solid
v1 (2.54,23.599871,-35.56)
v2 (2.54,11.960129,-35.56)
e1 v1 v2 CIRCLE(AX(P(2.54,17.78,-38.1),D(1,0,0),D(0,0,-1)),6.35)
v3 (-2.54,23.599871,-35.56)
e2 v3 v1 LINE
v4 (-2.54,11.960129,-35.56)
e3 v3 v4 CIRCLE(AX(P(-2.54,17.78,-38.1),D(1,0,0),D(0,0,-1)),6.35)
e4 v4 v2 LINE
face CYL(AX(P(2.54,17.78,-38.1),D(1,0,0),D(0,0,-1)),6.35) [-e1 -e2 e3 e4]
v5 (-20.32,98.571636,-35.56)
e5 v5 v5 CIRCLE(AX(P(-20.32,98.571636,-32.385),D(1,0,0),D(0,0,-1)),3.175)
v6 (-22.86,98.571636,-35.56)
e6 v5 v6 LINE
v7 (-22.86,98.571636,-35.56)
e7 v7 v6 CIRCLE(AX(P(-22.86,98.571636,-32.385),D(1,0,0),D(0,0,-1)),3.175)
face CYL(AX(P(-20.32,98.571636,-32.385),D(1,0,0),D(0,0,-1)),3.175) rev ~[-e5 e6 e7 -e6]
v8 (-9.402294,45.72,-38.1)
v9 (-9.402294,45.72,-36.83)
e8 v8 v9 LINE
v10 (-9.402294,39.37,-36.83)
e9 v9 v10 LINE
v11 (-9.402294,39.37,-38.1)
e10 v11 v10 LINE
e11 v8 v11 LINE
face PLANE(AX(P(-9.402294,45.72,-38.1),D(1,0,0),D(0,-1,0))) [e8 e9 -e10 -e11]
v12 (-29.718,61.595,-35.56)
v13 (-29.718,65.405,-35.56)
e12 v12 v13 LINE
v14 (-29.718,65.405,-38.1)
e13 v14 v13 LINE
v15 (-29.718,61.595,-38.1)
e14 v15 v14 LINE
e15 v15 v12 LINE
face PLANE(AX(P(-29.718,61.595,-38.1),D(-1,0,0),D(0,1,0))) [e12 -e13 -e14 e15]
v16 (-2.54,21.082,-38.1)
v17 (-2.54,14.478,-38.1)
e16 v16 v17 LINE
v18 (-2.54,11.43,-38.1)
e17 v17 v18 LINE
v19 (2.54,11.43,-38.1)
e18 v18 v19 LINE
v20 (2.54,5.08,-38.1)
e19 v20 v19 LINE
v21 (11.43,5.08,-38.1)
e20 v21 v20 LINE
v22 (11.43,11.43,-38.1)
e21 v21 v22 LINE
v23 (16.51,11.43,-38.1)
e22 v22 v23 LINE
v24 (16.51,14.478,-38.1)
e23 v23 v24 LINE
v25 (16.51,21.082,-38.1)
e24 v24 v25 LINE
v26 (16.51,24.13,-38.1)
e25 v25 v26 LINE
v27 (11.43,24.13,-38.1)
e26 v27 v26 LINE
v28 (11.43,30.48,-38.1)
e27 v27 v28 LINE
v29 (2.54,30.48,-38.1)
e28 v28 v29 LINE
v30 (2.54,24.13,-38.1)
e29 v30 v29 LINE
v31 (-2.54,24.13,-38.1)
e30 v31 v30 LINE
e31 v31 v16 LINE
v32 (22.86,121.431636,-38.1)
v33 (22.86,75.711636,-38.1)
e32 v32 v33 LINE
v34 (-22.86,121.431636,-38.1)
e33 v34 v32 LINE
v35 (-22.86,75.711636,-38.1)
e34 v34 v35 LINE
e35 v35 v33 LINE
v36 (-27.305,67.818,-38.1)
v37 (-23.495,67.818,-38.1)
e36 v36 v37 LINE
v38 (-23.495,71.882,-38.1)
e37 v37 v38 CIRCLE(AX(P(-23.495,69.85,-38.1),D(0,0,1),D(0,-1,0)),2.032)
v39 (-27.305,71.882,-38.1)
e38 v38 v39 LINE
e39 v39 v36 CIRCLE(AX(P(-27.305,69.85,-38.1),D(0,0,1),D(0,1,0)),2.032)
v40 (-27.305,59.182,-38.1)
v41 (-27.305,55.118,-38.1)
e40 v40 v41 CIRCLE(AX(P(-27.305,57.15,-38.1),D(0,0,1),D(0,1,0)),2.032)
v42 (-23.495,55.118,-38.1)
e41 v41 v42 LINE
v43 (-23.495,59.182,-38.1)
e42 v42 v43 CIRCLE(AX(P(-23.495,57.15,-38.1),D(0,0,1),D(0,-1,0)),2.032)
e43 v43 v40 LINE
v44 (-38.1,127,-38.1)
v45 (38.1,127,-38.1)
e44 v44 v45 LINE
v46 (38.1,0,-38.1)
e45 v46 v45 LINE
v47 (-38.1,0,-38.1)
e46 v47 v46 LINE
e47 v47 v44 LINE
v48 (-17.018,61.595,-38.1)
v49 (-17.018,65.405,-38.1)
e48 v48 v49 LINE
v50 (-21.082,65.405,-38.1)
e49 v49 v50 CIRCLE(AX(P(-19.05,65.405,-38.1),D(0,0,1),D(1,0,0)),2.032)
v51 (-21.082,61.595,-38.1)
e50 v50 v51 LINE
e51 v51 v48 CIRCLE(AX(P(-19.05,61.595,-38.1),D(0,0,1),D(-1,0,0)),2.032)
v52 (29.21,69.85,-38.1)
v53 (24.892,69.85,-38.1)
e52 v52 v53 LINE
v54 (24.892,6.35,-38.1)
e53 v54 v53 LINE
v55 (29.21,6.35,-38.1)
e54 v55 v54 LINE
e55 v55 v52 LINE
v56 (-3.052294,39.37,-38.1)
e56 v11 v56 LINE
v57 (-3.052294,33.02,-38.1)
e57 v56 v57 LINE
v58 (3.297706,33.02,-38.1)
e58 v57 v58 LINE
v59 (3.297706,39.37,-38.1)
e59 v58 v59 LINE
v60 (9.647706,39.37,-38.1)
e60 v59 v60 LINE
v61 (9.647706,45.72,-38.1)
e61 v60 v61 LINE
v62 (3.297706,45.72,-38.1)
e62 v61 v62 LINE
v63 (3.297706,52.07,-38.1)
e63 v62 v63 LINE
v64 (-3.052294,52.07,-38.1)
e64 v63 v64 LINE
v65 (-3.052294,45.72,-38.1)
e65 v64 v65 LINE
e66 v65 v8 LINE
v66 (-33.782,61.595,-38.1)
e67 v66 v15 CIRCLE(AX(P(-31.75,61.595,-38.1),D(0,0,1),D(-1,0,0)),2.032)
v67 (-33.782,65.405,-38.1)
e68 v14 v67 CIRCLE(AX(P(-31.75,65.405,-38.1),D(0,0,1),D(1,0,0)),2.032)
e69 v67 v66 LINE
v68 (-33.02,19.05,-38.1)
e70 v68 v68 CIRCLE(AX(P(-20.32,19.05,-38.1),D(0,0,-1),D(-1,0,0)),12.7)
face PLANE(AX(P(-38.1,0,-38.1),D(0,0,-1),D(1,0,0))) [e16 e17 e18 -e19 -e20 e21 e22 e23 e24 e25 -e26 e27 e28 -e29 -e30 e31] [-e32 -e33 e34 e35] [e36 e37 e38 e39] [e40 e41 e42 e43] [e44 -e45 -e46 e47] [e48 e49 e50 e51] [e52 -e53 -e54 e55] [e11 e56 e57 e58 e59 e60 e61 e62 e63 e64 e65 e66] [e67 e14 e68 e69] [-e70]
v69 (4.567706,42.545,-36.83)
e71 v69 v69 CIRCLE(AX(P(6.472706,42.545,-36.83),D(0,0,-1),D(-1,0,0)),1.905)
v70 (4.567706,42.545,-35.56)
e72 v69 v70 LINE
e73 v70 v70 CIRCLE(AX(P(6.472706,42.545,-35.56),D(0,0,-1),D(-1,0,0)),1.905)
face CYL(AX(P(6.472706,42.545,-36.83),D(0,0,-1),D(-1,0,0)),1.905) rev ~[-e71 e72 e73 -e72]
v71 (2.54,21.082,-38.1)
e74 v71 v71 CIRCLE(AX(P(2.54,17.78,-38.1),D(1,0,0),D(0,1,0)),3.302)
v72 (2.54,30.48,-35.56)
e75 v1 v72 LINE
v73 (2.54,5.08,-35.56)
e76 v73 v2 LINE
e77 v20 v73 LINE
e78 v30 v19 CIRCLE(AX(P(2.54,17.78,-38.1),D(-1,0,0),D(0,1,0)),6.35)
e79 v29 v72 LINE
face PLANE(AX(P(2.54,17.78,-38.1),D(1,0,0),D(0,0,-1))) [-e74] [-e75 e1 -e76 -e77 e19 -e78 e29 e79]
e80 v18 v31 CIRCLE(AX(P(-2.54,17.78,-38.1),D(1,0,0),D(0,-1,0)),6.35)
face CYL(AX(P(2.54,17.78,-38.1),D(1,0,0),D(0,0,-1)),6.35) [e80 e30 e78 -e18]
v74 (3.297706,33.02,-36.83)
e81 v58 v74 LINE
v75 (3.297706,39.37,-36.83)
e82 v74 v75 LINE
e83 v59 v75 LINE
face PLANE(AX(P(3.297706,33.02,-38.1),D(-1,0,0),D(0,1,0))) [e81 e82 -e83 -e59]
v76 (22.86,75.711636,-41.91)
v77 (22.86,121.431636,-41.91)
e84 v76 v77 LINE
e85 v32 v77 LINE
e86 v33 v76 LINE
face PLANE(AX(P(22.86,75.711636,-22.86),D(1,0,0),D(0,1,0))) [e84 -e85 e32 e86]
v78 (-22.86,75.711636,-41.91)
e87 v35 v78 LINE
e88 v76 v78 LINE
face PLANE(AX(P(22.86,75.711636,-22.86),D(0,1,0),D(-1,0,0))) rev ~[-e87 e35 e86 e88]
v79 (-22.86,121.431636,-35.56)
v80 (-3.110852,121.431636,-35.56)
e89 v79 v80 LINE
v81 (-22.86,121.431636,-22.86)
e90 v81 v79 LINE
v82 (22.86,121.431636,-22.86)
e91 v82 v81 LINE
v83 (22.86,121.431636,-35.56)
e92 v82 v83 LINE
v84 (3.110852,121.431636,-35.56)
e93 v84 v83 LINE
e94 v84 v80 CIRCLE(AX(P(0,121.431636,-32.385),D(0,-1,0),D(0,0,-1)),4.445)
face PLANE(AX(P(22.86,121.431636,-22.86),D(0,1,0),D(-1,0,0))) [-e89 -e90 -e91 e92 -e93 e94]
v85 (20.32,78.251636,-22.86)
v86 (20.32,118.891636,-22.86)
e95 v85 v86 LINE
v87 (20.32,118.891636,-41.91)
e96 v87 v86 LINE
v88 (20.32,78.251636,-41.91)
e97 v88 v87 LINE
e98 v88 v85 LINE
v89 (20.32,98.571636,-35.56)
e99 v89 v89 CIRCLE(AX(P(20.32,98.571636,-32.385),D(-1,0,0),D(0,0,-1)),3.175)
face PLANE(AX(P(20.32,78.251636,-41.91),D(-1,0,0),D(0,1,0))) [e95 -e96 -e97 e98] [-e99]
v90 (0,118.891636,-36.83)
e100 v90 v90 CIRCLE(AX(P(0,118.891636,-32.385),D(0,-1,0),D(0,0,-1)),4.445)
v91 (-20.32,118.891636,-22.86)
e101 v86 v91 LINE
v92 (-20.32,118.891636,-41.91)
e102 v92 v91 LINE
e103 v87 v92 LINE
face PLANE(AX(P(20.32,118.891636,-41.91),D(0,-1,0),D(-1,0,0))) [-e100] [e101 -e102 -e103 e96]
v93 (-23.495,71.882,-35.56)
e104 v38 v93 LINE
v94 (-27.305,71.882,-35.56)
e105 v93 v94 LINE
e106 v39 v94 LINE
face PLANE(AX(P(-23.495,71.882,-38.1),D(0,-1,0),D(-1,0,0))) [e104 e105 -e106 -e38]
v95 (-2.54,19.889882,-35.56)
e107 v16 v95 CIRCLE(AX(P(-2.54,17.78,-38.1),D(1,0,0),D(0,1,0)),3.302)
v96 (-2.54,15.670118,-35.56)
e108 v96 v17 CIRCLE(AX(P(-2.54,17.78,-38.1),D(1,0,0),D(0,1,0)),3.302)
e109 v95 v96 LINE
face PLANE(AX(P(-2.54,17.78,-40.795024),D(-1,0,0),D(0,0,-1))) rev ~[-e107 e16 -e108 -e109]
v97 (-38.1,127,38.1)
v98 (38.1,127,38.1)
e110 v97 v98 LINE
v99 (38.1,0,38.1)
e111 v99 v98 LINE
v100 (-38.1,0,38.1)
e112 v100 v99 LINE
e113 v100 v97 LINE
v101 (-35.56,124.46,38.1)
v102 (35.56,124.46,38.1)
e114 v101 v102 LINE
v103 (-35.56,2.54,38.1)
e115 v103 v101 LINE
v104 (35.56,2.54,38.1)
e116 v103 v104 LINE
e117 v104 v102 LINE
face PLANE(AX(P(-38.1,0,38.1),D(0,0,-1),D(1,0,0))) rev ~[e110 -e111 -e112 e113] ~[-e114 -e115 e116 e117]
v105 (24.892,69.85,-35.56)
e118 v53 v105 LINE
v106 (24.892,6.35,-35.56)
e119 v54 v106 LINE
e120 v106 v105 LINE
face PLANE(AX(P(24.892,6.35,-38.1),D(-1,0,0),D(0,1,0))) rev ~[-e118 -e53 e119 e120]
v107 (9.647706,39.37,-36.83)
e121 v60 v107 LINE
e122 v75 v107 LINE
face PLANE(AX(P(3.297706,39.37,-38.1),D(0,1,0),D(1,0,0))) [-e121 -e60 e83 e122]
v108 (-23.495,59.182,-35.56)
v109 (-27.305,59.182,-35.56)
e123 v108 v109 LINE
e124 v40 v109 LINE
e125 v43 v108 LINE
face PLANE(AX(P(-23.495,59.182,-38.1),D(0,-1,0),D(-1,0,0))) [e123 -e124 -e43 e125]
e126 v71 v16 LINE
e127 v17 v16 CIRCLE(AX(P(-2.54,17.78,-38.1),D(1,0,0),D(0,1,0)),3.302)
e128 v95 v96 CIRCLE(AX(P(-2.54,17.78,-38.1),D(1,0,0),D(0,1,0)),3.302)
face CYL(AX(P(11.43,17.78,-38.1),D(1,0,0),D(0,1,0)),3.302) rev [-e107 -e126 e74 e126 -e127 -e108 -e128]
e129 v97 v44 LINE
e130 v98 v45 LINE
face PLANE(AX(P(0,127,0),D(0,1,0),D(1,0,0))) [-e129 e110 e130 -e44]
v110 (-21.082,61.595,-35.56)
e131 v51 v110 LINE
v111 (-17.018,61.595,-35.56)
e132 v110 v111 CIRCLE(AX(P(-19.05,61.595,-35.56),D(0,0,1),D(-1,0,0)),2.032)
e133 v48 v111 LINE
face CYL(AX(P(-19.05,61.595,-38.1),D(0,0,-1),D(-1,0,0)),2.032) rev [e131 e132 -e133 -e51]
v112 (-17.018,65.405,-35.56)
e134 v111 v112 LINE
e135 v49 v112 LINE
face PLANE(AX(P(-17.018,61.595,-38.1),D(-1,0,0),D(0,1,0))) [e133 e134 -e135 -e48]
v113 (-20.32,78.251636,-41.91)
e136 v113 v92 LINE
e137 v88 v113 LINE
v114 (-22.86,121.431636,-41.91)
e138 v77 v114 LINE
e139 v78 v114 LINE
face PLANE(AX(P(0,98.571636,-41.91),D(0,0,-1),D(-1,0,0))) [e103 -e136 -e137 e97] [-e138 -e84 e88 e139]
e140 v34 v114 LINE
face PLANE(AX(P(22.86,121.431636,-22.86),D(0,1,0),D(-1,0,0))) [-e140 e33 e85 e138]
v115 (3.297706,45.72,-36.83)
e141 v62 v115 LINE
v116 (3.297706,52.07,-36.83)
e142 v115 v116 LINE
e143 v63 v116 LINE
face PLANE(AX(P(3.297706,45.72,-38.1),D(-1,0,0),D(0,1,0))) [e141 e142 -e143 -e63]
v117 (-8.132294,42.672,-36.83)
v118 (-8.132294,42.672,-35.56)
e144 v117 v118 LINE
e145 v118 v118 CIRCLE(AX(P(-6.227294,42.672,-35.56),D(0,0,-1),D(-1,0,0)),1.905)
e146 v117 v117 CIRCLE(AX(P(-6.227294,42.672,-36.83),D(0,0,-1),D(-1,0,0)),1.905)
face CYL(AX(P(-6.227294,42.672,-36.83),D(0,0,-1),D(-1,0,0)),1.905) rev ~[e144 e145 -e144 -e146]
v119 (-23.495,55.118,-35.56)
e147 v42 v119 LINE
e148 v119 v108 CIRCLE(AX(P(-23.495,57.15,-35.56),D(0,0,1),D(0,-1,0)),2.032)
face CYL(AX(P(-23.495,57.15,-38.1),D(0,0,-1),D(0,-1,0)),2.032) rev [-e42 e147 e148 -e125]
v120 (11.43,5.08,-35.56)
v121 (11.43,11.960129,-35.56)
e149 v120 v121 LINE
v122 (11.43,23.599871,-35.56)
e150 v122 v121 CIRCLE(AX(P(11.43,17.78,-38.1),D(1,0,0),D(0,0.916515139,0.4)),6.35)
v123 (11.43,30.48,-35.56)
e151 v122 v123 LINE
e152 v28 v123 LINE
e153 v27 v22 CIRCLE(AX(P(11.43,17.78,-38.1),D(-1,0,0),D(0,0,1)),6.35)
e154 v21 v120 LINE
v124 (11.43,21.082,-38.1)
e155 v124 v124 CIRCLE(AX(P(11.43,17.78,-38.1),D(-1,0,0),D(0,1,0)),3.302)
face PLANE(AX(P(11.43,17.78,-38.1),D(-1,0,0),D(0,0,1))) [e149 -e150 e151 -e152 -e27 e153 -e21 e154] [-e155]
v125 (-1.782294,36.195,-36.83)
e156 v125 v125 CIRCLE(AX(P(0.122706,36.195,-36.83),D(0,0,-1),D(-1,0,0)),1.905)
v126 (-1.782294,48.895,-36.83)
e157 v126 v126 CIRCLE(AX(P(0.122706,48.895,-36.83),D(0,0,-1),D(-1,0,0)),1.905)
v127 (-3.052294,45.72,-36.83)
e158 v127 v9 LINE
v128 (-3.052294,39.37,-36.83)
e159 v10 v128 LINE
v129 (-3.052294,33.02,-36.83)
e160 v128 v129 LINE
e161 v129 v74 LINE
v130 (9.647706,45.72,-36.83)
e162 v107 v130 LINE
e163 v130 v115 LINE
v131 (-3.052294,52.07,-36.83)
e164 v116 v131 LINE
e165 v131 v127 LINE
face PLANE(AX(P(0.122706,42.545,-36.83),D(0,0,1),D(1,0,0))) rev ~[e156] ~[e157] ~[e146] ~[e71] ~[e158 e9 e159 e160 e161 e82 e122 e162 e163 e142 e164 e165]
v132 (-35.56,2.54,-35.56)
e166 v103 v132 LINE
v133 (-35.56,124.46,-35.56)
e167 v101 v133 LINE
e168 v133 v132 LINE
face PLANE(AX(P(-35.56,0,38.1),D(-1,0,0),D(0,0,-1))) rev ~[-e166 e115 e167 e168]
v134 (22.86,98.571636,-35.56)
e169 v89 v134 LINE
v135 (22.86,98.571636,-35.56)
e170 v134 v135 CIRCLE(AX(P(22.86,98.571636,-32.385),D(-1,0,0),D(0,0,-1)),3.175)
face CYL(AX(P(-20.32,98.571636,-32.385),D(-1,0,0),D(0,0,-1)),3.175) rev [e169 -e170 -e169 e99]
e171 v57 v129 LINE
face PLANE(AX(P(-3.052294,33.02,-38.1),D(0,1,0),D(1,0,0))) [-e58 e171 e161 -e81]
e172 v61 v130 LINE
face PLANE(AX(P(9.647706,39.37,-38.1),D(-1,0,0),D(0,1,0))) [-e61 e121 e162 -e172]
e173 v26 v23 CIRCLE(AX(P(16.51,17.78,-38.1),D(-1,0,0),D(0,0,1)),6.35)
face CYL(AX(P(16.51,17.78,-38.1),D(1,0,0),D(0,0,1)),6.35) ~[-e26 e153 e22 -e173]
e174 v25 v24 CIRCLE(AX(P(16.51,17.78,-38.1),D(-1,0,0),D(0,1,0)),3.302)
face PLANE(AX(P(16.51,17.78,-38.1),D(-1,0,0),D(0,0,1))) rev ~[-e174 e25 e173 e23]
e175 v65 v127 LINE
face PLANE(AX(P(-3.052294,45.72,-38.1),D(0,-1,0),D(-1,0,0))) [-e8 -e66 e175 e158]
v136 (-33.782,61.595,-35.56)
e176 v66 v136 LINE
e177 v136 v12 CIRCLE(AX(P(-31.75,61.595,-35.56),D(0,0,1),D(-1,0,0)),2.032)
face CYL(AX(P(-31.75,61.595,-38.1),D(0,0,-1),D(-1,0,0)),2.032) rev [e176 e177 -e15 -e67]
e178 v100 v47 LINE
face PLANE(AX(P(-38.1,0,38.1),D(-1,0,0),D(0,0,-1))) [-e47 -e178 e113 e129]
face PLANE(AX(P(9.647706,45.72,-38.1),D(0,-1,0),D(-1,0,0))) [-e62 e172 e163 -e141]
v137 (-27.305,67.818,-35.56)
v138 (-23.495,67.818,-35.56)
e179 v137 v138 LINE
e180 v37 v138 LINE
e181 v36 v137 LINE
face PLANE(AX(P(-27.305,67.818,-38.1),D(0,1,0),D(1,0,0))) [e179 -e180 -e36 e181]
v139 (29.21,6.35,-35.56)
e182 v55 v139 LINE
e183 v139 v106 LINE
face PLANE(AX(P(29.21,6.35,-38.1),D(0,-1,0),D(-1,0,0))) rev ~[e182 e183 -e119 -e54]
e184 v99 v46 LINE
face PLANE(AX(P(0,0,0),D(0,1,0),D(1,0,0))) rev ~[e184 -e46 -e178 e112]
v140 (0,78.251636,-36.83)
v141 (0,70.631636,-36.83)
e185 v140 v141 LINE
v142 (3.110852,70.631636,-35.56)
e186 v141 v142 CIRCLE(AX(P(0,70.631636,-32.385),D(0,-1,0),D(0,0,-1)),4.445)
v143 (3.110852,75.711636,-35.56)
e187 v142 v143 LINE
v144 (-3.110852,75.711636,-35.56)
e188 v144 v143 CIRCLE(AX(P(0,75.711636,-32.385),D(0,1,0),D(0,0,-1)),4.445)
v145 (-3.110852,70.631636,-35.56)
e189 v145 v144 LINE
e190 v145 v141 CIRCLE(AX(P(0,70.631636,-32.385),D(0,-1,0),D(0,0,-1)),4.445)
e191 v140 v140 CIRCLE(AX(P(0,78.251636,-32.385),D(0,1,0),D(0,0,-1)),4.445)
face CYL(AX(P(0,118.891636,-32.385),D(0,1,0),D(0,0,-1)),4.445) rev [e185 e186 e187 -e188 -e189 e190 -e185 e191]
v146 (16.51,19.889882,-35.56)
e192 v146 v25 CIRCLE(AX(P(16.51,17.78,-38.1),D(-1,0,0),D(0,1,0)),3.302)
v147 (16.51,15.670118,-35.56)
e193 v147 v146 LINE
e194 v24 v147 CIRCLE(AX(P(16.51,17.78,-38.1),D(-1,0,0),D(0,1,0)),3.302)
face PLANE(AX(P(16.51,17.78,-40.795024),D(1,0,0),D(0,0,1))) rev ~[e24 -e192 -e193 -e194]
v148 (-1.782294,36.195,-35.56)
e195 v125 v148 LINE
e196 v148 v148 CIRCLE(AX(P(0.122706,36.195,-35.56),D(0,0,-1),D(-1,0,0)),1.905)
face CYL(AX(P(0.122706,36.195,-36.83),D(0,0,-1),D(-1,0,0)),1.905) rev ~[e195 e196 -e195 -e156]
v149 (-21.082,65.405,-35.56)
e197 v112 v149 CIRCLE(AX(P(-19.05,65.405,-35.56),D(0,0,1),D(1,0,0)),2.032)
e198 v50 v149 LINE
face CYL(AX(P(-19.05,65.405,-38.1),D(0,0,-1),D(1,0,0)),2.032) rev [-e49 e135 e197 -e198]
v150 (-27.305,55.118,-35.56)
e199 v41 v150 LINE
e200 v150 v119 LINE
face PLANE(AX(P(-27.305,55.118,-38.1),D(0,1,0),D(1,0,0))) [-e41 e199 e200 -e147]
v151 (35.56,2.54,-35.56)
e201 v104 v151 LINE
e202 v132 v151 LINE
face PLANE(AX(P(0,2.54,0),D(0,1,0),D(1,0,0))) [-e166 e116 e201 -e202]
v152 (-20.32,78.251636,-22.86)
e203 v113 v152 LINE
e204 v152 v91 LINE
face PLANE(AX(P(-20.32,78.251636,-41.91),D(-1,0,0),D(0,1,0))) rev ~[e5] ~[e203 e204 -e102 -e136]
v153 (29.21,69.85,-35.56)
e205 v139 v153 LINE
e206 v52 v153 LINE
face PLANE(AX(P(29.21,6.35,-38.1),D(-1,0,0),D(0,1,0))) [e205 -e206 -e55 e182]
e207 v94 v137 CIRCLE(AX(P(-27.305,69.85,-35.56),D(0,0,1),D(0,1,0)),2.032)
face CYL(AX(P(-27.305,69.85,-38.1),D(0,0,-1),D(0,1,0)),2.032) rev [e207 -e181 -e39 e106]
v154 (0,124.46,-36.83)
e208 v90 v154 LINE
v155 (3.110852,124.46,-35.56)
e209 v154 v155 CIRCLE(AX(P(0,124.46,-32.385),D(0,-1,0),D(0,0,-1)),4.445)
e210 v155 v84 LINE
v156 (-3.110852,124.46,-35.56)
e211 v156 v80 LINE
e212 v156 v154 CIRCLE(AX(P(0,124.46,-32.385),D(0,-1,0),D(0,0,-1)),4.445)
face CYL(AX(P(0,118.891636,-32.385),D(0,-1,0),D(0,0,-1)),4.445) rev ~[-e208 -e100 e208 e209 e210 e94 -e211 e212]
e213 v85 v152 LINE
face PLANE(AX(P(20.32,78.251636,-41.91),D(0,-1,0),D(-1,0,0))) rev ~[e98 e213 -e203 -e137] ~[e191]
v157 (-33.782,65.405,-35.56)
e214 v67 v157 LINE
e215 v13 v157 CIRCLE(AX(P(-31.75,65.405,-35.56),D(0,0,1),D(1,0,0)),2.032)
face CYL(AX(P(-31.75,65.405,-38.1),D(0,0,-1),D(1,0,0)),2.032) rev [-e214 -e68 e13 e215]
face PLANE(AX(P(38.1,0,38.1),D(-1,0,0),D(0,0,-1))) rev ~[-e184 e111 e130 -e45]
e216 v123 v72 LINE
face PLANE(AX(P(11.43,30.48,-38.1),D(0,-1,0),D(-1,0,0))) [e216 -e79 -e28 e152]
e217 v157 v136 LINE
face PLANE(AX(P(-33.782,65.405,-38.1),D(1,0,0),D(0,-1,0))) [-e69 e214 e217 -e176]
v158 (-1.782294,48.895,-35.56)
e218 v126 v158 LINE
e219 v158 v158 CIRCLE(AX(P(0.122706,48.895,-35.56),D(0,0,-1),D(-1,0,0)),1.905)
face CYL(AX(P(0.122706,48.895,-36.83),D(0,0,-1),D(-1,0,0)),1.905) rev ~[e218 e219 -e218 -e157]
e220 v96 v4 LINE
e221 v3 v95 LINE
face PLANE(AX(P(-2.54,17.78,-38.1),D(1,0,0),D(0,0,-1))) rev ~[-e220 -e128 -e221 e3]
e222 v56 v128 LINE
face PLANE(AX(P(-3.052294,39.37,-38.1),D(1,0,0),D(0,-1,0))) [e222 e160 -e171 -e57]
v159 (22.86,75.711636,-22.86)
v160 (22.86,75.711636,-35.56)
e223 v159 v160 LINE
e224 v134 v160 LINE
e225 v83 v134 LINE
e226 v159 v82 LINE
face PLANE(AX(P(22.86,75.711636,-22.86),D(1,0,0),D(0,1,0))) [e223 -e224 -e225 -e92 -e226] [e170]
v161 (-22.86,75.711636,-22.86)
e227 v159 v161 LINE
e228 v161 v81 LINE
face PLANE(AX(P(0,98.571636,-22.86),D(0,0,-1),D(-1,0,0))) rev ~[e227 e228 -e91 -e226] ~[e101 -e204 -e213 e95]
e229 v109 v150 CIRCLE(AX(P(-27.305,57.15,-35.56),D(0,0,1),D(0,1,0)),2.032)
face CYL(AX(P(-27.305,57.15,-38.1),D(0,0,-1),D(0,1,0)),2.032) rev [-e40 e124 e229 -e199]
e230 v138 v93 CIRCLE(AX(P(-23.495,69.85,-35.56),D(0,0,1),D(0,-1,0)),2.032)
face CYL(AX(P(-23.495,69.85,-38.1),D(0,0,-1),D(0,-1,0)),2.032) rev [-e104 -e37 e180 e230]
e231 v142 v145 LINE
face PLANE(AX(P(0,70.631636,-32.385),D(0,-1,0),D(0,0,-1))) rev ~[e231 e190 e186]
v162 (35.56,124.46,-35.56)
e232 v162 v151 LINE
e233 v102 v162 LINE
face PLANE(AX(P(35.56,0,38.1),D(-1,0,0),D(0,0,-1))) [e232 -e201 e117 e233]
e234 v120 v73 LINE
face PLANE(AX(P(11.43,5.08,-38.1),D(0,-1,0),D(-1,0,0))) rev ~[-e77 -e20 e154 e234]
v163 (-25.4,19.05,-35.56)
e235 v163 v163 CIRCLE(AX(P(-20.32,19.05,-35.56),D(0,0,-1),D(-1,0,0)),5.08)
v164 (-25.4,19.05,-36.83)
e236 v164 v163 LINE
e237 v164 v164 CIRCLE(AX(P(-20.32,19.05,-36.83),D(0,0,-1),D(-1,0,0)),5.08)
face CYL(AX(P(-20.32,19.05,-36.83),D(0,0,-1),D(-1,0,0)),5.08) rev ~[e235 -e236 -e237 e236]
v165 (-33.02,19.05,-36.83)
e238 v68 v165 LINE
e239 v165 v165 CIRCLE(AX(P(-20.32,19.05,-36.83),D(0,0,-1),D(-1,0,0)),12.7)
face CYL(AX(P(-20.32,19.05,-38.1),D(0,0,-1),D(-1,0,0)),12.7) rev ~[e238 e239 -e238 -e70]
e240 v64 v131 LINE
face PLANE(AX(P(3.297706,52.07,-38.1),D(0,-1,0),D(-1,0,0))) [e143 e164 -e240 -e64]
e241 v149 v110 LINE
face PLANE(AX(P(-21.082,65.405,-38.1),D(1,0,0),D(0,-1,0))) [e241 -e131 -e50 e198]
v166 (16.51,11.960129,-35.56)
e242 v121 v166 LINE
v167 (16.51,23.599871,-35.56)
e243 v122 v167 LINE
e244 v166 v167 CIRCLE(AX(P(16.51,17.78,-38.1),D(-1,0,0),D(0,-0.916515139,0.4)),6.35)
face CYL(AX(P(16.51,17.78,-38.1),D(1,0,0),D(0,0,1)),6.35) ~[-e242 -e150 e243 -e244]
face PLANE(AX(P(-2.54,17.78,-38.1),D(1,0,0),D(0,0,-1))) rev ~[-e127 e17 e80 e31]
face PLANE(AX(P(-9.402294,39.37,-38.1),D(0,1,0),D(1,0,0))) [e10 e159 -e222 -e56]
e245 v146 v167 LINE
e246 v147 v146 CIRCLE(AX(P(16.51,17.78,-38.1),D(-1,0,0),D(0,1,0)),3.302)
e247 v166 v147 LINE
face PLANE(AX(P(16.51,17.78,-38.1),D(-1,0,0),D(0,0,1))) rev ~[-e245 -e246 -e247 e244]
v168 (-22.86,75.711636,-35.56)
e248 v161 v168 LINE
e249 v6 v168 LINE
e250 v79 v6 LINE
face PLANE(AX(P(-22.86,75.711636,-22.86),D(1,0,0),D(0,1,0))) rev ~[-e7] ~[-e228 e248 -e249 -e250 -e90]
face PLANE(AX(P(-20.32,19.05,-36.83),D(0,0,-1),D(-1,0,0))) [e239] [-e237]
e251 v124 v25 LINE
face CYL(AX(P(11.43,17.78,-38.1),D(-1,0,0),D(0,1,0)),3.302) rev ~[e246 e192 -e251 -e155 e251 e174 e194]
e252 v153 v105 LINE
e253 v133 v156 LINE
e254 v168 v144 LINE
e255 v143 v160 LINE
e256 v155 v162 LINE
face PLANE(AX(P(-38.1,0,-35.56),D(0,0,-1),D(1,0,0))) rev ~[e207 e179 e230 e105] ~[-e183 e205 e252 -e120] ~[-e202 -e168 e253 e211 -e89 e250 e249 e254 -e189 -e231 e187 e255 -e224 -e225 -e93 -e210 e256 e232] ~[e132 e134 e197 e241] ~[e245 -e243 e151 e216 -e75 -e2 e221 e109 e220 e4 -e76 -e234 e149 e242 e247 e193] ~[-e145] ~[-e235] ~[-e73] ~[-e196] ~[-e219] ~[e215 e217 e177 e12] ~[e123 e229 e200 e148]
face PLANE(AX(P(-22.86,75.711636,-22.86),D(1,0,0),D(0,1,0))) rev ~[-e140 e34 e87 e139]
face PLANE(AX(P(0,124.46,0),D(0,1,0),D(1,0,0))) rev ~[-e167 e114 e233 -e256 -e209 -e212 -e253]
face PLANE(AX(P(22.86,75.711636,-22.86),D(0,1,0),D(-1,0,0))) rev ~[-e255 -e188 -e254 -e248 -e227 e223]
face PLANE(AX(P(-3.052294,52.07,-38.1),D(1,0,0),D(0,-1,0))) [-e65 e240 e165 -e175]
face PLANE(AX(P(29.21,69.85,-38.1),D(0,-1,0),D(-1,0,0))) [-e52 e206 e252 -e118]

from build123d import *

# Parameters (mm, degrees)
SKETCH1_W                       = 76.2
SKETCH1_H                       = 76.2
BOX_DEPTH                       = 127
HOLLOW_IT_T                     = -2.54
SKETCH2_W                       = 4.318
SKETCH2_H                       = 63.5
SLIDER_TRACK_DEPTH              = 2.54
DPAD_LARGE_SHAPE_DEPTH          = 1.27
SKETCH7_R                       = 1.905
DPAD_TINY_HOLES_DEPTH           = 1.27
SKETCH8_R                       = 12.7
DIAL_LARGE_RING_DEPTH           = 1.27
SKETCH9_R                       = 5.08
DIAL_SMALL_HOLE_DEPTH           = 1.27
SKETCH12_W                      = 8.89
SKETCH12_H                      = 25.4
HOLE_FOR_SCROLL_WHEEL_DEPTH     = 2.54
SKETCH14_R                      = 6.35
NIBBLE_BASE_1_DEPTH             = 5.08
NIBBLE_START                    = -5.08
SKETCH15_R                      = 6.35
NIBBLE_BASE_2_DEPTH             = 5.08
NIBBLE_HOLES_REACH              = 145.381
SKETCH16_R                      = 3.302
NIBBLE_HOLES_DIRECTION_2_REACH  = 145.381
SINGLE_BUTTON_LEG_HOLE_DEPTH    = 2.54
MOAR_LEG_HOLES_COUNT            = 4
BASE_FOR_JOYSTICK_DEPTH         = 3.81
BASE_FOR_JOYSTICK_DEPTH_BACK    = 15.24
SKETCH19_W                      = 45.72
SKETCH19_H                      = 45.72
SKETCH21_W                      = 40.64
SKETCH21_H                      = 40.64
JOYSTICK_HOLE_DEPTH             = 155.861906549
LARGE_NIBBLES_REACH             = 148.689
SKETCH22_R                      = 3.175
LARGE_NIBBLES_DIRECTION_2_REACH = 148.689
SMALL_NIBBLES_REACH             = 134.524
SKETCH23_R                      = 4.445
SMALL_NIBBLES_DIRECTION_2_DEPTH = 48.26


with BuildPart() as part:
    # Sketch1 → box (new body)
    with BuildSketch(Plane(origin=(0, 0, 0), x_dir=(1, 0, 0), z_dir=(0, 1, 0))):
        Rectangle(SKETCH1_W, SKETCH1_H)
    extrude(amount=BOX_DEPTH)

    # hollow it
    hollow_it_openings = [part.faces().sort_by_distance(p)[0] for p in [
        (0, 63.5, 38.1),
    ]]
    offset(amount=HOLLOW_IT_T, openings=hollow_it_openings, kind=Kind.INTERSECTION)

    # Sketch2 → slider track (cut)
    with BuildSketch(Plane(origin=(0, 0, -38.1), x_dir=(-1, 0, 0), z_dir=(0, 0, -1))):
        with Locations((-27.051, 38.1)):
            Rectangle(SKETCH2_W, SKETCH2_H)
    extrude(amount=-SLIDER_TRACK_DEPTH, mode=Mode.SUBTRACT)

    # Sketch6 → dpad large shape (cut)
    with BuildSketch(Plane(origin=(0, 0, -38.1), x_dir=(-1, 0, 0), z_dir=(0, 0, -1))):
        Polygon((-3.297705804, 45.72), (-3.297705804, 52.07), (3.052294196, 52.07), (3.052294196, 45.72), (9.402294196, 45.72), (9.402294196, 39.37), (3.052294196, 39.37), (3.052294196, 33.02), (-3.297705804, 33.02), (-3.297705804, 39.37), (-9.647705804, 39.37), (-9.647705804, 45.72), align=None)
    extrude(amount=-DPAD_LARGE_SHAPE_DEPTH, mode=Mode.SUBTRACT)

    # Sketch7 → dpad tiny holes (cut)
    with BuildSketch(Plane(origin=(0, 0, -36.83), x_dir=(-1, 0, 0), z_dir=(0, 0, -1))):
        with Locations((-0.122705804, 48.895)):
            Circle(SKETCH7_R)
        with Locations((6.227294196, 42.672)):
            Circle(SKETCH7_R)
        with Locations((-0.122705804, 36.195)):
            Circle(SKETCH7_R)
        with Locations((-6.472705804, 42.545)):
            Circle(SKETCH7_R)
    extrude(amount=-DPAD_TINY_HOLES_DEPTH, mode=Mode.SUBTRACT)

    # Sketch8 → dial large ring (cut)
    with BuildSketch(Plane(origin=(0, 0, -38.1), x_dir=(-1, 0, 0), z_dir=(0, 0, -1))):
        with Locations((20.32, 19.05)):
            Circle(SKETCH8_R)
    extrude(amount=-DIAL_LARGE_RING_DEPTH, mode=Mode.SUBTRACT)

    # Sketch9 → dial small hole (cut)
    with BuildSketch(Plane(origin=(0, 0, -36.83), x_dir=(-1, 0, 0), z_dir=(0, 0, -1))):
        with Locations((20.32, 19.05)):
            Circle(SKETCH9_R)
    extrude(amount=-DIAL_SMALL_HOLE_DEPTH, mode=Mode.SUBTRACT)

    # Sketch12 → hole for scroll wheel (cut)
    with BuildSketch(Plane(origin=(0, 0, -38.1), x_dir=(-1, 0, 0), z_dir=(0, 0, -1))):
        with Locations((-6.985, 17.78)):
            Rectangle(SKETCH12_W, SKETCH12_H)
    extrude(amount=-HOLE_FOR_SCROLL_WHEEL_DEPTH, mode=Mode.SUBTRACT)

    # Sketch14 → nibble base 1 (add)
    with BuildSketch(Plane(origin=(2.54, 0, 0), x_dir=(0, 0, -1), z_dir=(1, 0, 0))):
        with Locations((38.1, 17.78)):
            Circle(SKETCH14_R)
    extrude(amount=-NIBBLE_BASE_1_DEPTH)

    # Sketch15 → nibble base 2 (add)
    with BuildSketch(Plane.ZY.offset(-11.43).offset(NIBBLE_START)):
        with Locations((-38.1, 17.78)):
            Circle(SKETCH15_R)
    extrude(amount=NIBBLE_BASE_2_DEPTH)

    # nibble holes: up to this face of the body (flat: up to its plane)
    nibble_holes_end = Plane(part.part.faces().sort_by_distance((16.51, 17.78, -40.795023703))[0])
    # Sketch16 → nibble holes (cut, up to the picked face)
    with BuildSketch(Plane.ZY.offset(-11.43), mode=Mode.PRIVATE) as nibble_holes_sk1:
        with Locations(Location((-38.1, 17.78, 0), (0, 0, 90))):
            Circle(SKETCH16_R)
    nibble_holes_tool1 = split(extrude(nibble_holes_sk1.sketch, amount=-NIBBLE_HOLES_REACH, mode=Mode.PRIVATE), bisect_by=nibble_holes_end, keep=Keep.BOTH, mode=Mode.PRIVATE)
    add(nibble_holes_tool1.solids().sort_by(Axis((11.43, 17.78, -38.1), (1, 0, 0)))[0], mode=Mode.SUBTRACT)

    # nibble holes direction 2: up to this face of the body (flat: up to its plane)
    nibble_holes_direction_2_end = Plane(part.part.faces().sort_by_distance((-2.54, 17.78, -40.795023703))[0])
    # Sketch16 → nibble holes direction 2 (cut, up to the picked face)
    with BuildSketch(Plane.ZY.offset(-11.43), mode=Mode.PRIVATE) as nibble_holes_direction_2_sk1:
        with Locations(Location((-38.1, 17.78, 0), (0, 0, 90))):
            Circle(SKETCH16_R)
    nibble_holes_direction_2_tool1 = split(extrude(nibble_holes_direction_2_sk1.sketch, amount=NIBBLE_HOLES_DIRECTION_2_REACH, mode=Mode.PRIVATE), bisect_by=nibble_holes_direction_2_end, keep=Keep.BOTH, mode=Mode.PRIVATE)
    add(nibble_holes_direction_2_tool1.solids().sort_by(Axis((11.43, 17.78, -38.1), (-1, 0, 0)))[0], mode=Mode.SUBTRACT)

    # Sketch17 → single button leg hole (cut)
    with BuildSketch(Plane(origin=(0, 0, -38.1), x_dir=(-1, 0, 0), z_dir=(0, 0, -1))):
        with BuildLine():
            Line((33.782, 65.405), (33.782, 61.595))
            ThreePointArc((33.782, 61.595), (31.75, 59.563), (29.718, 61.595))
            Line((29.718, 61.595), (29.718, 65.405))
            ThreePointArc((29.718, 65.405), (31.75, 67.437), (33.782, 65.405))
        make_face()
    single_button_leg_hole = extrude(amount=-SINGLE_BUTTON_LEG_HOLE_DEPTH, mode=Mode.SUBTRACT)

    # moar leg holes: single button leg hole ×4 about axis
    moar_leg_holes_axis = Axis((-25.4, 63.5, 0), (0, 0, 1))
    for i in range(1, MOAR_LEG_HOLES_COUNT):
        add(single_button_leg_hole.rotate(moar_leg_holes_axis, i * 360 / MOAR_LEG_HOLES_COUNT), mode=Mode.SUBTRACT)

    # Sketch19 → base for joystick (add, two sides: drawn at the far end of the back side and taken through both)
    with BuildSketch(Plane(origin=(0, 0, -38.1), x_dir=(-1, 0, 0), z_dir=(0, 0, -1)).offset(-BASE_FOR_JOYSTICK_DEPTH_BACK)):
        with Locations((0, 98.571636182)):
            Rectangle(SKETCH19_W, SKETCH19_H)
    extrude(amount=BASE_FOR_JOYSTICK_DEPTH + BASE_FOR_JOYSTICK_DEPTH_BACK)

    # Sketch21 → joystick hole (cut, through all)
    with BuildSketch(Plane(origin=(0, 0, -41.91), x_dir=(-1, 0, 0), z_dir=(0, 0, -1))):
        with Locations((0, 98.571636182)):
            Rectangle(SKETCH21_W, SKETCH21_H)
    extrude(amount=-JOYSTICK_HOLE_DEPTH, mode=Mode.SUBTRACT)

    # large nibbles: up to this face of the body (flat: up to its plane)
    large_nibbles_end = Plane(part.part.faces().sort_by_distance((-22.86, 98.571636182, -40.005))[0])
    # Sketch22 → large nibbles (cut, up to the picked face)
    with BuildSketch(Plane(origin=(-20.32, 0, 0), x_dir=(0, 0, -1), z_dir=(1, 0, 0)), mode=Mode.PRIVATE) as large_nibbles_sk1:
        with Locations((32.385, 98.571636182)):
            Circle(SKETCH22_R)
    large_nibbles_tool1 = split(extrude(large_nibbles_sk1.sketch, amount=-LARGE_NIBBLES_REACH, mode=Mode.PRIVATE), bisect_by=large_nibbles_end, keep=Keep.BOTH, mode=Mode.PRIVATE)
    add(large_nibbles_tool1.solids().sort_by(Axis((-20.32, 98.571636, -32.385), (-1, 0, 0)))[0], mode=Mode.SUBTRACT)

    # large nibbles direction 2: up to this face of the body (flat: up to its plane)
    large_nibbles_direction_2_end = Plane(part.part.faces().sort_by_distance((22.86, 98.571636182, -40.005))[0])
    # Sketch22 → large nibbles direction 2 (cut, up to the picked face)
    with BuildSketch(Plane(origin=(-20.32, 0, 0), x_dir=(0, 0, -1), z_dir=(1, 0, 0)), mode=Mode.PRIVATE) as large_nibbles_direction_2_sk1:
        with Locations((32.385, 98.571636182)):
            Circle(SKETCH22_R)
    large_nibbles_direction_2_tool1 = split(extrude(large_nibbles_direction_2_sk1.sketch, amount=LARGE_NIBBLES_DIRECTION_2_REACH, mode=Mode.PRIVATE), bisect_by=large_nibbles_direction_2_end, keep=Keep.BOTH, mode=Mode.PRIVATE)
    add(large_nibbles_direction_2_tool1.solids().sort_by(Axis((-20.32, 98.571636, -32.385), (1, 0, 0)))[0], mode=Mode.SUBTRACT)

    # small nibbles: up to this face of the body (flat: up to its plane)
    small_nibbles_end = Plane(part.part.faces().sort_by_distance((0, 124.46, 1.27))[0])
    # Sketch23 → small nibbles (cut, up to the picked face)
    with BuildSketch(Plane.XZ.offset(-118.891636182), mode=Mode.PRIVATE) as small_nibbles_sk1:
        with Locations(Location((0, -32.385, 0), (0, 0, 270))):
            Circle(SKETCH23_R)
    small_nibbles_tool1 = split(extrude(small_nibbles_sk1.sketch, amount=-SMALL_NIBBLES_REACH, mode=Mode.PRIVATE), bisect_by=small_nibbles_end, keep=Keep.BOTH, mode=Mode.PRIVATE)
    add(small_nibbles_tool1.solids().sort_by(Axis((0, 118.891636, -32.385), (0, 1, 0)))[0], mode=Mode.SUBTRACT)

    # Sketch23 → small nibbles direction 2 (cut)
    with BuildSketch(Plane.XZ.offset(-118.891636182)):
        with Locations(Location((0, -32.385, 0), (0, 0, 270))):
            Circle(SKETCH23_R)
    extrude(amount=SMALL_NIBBLES_DIRECTION_2_DEPTH, mode=Mode.SUBTRACT)


solid = part.part
